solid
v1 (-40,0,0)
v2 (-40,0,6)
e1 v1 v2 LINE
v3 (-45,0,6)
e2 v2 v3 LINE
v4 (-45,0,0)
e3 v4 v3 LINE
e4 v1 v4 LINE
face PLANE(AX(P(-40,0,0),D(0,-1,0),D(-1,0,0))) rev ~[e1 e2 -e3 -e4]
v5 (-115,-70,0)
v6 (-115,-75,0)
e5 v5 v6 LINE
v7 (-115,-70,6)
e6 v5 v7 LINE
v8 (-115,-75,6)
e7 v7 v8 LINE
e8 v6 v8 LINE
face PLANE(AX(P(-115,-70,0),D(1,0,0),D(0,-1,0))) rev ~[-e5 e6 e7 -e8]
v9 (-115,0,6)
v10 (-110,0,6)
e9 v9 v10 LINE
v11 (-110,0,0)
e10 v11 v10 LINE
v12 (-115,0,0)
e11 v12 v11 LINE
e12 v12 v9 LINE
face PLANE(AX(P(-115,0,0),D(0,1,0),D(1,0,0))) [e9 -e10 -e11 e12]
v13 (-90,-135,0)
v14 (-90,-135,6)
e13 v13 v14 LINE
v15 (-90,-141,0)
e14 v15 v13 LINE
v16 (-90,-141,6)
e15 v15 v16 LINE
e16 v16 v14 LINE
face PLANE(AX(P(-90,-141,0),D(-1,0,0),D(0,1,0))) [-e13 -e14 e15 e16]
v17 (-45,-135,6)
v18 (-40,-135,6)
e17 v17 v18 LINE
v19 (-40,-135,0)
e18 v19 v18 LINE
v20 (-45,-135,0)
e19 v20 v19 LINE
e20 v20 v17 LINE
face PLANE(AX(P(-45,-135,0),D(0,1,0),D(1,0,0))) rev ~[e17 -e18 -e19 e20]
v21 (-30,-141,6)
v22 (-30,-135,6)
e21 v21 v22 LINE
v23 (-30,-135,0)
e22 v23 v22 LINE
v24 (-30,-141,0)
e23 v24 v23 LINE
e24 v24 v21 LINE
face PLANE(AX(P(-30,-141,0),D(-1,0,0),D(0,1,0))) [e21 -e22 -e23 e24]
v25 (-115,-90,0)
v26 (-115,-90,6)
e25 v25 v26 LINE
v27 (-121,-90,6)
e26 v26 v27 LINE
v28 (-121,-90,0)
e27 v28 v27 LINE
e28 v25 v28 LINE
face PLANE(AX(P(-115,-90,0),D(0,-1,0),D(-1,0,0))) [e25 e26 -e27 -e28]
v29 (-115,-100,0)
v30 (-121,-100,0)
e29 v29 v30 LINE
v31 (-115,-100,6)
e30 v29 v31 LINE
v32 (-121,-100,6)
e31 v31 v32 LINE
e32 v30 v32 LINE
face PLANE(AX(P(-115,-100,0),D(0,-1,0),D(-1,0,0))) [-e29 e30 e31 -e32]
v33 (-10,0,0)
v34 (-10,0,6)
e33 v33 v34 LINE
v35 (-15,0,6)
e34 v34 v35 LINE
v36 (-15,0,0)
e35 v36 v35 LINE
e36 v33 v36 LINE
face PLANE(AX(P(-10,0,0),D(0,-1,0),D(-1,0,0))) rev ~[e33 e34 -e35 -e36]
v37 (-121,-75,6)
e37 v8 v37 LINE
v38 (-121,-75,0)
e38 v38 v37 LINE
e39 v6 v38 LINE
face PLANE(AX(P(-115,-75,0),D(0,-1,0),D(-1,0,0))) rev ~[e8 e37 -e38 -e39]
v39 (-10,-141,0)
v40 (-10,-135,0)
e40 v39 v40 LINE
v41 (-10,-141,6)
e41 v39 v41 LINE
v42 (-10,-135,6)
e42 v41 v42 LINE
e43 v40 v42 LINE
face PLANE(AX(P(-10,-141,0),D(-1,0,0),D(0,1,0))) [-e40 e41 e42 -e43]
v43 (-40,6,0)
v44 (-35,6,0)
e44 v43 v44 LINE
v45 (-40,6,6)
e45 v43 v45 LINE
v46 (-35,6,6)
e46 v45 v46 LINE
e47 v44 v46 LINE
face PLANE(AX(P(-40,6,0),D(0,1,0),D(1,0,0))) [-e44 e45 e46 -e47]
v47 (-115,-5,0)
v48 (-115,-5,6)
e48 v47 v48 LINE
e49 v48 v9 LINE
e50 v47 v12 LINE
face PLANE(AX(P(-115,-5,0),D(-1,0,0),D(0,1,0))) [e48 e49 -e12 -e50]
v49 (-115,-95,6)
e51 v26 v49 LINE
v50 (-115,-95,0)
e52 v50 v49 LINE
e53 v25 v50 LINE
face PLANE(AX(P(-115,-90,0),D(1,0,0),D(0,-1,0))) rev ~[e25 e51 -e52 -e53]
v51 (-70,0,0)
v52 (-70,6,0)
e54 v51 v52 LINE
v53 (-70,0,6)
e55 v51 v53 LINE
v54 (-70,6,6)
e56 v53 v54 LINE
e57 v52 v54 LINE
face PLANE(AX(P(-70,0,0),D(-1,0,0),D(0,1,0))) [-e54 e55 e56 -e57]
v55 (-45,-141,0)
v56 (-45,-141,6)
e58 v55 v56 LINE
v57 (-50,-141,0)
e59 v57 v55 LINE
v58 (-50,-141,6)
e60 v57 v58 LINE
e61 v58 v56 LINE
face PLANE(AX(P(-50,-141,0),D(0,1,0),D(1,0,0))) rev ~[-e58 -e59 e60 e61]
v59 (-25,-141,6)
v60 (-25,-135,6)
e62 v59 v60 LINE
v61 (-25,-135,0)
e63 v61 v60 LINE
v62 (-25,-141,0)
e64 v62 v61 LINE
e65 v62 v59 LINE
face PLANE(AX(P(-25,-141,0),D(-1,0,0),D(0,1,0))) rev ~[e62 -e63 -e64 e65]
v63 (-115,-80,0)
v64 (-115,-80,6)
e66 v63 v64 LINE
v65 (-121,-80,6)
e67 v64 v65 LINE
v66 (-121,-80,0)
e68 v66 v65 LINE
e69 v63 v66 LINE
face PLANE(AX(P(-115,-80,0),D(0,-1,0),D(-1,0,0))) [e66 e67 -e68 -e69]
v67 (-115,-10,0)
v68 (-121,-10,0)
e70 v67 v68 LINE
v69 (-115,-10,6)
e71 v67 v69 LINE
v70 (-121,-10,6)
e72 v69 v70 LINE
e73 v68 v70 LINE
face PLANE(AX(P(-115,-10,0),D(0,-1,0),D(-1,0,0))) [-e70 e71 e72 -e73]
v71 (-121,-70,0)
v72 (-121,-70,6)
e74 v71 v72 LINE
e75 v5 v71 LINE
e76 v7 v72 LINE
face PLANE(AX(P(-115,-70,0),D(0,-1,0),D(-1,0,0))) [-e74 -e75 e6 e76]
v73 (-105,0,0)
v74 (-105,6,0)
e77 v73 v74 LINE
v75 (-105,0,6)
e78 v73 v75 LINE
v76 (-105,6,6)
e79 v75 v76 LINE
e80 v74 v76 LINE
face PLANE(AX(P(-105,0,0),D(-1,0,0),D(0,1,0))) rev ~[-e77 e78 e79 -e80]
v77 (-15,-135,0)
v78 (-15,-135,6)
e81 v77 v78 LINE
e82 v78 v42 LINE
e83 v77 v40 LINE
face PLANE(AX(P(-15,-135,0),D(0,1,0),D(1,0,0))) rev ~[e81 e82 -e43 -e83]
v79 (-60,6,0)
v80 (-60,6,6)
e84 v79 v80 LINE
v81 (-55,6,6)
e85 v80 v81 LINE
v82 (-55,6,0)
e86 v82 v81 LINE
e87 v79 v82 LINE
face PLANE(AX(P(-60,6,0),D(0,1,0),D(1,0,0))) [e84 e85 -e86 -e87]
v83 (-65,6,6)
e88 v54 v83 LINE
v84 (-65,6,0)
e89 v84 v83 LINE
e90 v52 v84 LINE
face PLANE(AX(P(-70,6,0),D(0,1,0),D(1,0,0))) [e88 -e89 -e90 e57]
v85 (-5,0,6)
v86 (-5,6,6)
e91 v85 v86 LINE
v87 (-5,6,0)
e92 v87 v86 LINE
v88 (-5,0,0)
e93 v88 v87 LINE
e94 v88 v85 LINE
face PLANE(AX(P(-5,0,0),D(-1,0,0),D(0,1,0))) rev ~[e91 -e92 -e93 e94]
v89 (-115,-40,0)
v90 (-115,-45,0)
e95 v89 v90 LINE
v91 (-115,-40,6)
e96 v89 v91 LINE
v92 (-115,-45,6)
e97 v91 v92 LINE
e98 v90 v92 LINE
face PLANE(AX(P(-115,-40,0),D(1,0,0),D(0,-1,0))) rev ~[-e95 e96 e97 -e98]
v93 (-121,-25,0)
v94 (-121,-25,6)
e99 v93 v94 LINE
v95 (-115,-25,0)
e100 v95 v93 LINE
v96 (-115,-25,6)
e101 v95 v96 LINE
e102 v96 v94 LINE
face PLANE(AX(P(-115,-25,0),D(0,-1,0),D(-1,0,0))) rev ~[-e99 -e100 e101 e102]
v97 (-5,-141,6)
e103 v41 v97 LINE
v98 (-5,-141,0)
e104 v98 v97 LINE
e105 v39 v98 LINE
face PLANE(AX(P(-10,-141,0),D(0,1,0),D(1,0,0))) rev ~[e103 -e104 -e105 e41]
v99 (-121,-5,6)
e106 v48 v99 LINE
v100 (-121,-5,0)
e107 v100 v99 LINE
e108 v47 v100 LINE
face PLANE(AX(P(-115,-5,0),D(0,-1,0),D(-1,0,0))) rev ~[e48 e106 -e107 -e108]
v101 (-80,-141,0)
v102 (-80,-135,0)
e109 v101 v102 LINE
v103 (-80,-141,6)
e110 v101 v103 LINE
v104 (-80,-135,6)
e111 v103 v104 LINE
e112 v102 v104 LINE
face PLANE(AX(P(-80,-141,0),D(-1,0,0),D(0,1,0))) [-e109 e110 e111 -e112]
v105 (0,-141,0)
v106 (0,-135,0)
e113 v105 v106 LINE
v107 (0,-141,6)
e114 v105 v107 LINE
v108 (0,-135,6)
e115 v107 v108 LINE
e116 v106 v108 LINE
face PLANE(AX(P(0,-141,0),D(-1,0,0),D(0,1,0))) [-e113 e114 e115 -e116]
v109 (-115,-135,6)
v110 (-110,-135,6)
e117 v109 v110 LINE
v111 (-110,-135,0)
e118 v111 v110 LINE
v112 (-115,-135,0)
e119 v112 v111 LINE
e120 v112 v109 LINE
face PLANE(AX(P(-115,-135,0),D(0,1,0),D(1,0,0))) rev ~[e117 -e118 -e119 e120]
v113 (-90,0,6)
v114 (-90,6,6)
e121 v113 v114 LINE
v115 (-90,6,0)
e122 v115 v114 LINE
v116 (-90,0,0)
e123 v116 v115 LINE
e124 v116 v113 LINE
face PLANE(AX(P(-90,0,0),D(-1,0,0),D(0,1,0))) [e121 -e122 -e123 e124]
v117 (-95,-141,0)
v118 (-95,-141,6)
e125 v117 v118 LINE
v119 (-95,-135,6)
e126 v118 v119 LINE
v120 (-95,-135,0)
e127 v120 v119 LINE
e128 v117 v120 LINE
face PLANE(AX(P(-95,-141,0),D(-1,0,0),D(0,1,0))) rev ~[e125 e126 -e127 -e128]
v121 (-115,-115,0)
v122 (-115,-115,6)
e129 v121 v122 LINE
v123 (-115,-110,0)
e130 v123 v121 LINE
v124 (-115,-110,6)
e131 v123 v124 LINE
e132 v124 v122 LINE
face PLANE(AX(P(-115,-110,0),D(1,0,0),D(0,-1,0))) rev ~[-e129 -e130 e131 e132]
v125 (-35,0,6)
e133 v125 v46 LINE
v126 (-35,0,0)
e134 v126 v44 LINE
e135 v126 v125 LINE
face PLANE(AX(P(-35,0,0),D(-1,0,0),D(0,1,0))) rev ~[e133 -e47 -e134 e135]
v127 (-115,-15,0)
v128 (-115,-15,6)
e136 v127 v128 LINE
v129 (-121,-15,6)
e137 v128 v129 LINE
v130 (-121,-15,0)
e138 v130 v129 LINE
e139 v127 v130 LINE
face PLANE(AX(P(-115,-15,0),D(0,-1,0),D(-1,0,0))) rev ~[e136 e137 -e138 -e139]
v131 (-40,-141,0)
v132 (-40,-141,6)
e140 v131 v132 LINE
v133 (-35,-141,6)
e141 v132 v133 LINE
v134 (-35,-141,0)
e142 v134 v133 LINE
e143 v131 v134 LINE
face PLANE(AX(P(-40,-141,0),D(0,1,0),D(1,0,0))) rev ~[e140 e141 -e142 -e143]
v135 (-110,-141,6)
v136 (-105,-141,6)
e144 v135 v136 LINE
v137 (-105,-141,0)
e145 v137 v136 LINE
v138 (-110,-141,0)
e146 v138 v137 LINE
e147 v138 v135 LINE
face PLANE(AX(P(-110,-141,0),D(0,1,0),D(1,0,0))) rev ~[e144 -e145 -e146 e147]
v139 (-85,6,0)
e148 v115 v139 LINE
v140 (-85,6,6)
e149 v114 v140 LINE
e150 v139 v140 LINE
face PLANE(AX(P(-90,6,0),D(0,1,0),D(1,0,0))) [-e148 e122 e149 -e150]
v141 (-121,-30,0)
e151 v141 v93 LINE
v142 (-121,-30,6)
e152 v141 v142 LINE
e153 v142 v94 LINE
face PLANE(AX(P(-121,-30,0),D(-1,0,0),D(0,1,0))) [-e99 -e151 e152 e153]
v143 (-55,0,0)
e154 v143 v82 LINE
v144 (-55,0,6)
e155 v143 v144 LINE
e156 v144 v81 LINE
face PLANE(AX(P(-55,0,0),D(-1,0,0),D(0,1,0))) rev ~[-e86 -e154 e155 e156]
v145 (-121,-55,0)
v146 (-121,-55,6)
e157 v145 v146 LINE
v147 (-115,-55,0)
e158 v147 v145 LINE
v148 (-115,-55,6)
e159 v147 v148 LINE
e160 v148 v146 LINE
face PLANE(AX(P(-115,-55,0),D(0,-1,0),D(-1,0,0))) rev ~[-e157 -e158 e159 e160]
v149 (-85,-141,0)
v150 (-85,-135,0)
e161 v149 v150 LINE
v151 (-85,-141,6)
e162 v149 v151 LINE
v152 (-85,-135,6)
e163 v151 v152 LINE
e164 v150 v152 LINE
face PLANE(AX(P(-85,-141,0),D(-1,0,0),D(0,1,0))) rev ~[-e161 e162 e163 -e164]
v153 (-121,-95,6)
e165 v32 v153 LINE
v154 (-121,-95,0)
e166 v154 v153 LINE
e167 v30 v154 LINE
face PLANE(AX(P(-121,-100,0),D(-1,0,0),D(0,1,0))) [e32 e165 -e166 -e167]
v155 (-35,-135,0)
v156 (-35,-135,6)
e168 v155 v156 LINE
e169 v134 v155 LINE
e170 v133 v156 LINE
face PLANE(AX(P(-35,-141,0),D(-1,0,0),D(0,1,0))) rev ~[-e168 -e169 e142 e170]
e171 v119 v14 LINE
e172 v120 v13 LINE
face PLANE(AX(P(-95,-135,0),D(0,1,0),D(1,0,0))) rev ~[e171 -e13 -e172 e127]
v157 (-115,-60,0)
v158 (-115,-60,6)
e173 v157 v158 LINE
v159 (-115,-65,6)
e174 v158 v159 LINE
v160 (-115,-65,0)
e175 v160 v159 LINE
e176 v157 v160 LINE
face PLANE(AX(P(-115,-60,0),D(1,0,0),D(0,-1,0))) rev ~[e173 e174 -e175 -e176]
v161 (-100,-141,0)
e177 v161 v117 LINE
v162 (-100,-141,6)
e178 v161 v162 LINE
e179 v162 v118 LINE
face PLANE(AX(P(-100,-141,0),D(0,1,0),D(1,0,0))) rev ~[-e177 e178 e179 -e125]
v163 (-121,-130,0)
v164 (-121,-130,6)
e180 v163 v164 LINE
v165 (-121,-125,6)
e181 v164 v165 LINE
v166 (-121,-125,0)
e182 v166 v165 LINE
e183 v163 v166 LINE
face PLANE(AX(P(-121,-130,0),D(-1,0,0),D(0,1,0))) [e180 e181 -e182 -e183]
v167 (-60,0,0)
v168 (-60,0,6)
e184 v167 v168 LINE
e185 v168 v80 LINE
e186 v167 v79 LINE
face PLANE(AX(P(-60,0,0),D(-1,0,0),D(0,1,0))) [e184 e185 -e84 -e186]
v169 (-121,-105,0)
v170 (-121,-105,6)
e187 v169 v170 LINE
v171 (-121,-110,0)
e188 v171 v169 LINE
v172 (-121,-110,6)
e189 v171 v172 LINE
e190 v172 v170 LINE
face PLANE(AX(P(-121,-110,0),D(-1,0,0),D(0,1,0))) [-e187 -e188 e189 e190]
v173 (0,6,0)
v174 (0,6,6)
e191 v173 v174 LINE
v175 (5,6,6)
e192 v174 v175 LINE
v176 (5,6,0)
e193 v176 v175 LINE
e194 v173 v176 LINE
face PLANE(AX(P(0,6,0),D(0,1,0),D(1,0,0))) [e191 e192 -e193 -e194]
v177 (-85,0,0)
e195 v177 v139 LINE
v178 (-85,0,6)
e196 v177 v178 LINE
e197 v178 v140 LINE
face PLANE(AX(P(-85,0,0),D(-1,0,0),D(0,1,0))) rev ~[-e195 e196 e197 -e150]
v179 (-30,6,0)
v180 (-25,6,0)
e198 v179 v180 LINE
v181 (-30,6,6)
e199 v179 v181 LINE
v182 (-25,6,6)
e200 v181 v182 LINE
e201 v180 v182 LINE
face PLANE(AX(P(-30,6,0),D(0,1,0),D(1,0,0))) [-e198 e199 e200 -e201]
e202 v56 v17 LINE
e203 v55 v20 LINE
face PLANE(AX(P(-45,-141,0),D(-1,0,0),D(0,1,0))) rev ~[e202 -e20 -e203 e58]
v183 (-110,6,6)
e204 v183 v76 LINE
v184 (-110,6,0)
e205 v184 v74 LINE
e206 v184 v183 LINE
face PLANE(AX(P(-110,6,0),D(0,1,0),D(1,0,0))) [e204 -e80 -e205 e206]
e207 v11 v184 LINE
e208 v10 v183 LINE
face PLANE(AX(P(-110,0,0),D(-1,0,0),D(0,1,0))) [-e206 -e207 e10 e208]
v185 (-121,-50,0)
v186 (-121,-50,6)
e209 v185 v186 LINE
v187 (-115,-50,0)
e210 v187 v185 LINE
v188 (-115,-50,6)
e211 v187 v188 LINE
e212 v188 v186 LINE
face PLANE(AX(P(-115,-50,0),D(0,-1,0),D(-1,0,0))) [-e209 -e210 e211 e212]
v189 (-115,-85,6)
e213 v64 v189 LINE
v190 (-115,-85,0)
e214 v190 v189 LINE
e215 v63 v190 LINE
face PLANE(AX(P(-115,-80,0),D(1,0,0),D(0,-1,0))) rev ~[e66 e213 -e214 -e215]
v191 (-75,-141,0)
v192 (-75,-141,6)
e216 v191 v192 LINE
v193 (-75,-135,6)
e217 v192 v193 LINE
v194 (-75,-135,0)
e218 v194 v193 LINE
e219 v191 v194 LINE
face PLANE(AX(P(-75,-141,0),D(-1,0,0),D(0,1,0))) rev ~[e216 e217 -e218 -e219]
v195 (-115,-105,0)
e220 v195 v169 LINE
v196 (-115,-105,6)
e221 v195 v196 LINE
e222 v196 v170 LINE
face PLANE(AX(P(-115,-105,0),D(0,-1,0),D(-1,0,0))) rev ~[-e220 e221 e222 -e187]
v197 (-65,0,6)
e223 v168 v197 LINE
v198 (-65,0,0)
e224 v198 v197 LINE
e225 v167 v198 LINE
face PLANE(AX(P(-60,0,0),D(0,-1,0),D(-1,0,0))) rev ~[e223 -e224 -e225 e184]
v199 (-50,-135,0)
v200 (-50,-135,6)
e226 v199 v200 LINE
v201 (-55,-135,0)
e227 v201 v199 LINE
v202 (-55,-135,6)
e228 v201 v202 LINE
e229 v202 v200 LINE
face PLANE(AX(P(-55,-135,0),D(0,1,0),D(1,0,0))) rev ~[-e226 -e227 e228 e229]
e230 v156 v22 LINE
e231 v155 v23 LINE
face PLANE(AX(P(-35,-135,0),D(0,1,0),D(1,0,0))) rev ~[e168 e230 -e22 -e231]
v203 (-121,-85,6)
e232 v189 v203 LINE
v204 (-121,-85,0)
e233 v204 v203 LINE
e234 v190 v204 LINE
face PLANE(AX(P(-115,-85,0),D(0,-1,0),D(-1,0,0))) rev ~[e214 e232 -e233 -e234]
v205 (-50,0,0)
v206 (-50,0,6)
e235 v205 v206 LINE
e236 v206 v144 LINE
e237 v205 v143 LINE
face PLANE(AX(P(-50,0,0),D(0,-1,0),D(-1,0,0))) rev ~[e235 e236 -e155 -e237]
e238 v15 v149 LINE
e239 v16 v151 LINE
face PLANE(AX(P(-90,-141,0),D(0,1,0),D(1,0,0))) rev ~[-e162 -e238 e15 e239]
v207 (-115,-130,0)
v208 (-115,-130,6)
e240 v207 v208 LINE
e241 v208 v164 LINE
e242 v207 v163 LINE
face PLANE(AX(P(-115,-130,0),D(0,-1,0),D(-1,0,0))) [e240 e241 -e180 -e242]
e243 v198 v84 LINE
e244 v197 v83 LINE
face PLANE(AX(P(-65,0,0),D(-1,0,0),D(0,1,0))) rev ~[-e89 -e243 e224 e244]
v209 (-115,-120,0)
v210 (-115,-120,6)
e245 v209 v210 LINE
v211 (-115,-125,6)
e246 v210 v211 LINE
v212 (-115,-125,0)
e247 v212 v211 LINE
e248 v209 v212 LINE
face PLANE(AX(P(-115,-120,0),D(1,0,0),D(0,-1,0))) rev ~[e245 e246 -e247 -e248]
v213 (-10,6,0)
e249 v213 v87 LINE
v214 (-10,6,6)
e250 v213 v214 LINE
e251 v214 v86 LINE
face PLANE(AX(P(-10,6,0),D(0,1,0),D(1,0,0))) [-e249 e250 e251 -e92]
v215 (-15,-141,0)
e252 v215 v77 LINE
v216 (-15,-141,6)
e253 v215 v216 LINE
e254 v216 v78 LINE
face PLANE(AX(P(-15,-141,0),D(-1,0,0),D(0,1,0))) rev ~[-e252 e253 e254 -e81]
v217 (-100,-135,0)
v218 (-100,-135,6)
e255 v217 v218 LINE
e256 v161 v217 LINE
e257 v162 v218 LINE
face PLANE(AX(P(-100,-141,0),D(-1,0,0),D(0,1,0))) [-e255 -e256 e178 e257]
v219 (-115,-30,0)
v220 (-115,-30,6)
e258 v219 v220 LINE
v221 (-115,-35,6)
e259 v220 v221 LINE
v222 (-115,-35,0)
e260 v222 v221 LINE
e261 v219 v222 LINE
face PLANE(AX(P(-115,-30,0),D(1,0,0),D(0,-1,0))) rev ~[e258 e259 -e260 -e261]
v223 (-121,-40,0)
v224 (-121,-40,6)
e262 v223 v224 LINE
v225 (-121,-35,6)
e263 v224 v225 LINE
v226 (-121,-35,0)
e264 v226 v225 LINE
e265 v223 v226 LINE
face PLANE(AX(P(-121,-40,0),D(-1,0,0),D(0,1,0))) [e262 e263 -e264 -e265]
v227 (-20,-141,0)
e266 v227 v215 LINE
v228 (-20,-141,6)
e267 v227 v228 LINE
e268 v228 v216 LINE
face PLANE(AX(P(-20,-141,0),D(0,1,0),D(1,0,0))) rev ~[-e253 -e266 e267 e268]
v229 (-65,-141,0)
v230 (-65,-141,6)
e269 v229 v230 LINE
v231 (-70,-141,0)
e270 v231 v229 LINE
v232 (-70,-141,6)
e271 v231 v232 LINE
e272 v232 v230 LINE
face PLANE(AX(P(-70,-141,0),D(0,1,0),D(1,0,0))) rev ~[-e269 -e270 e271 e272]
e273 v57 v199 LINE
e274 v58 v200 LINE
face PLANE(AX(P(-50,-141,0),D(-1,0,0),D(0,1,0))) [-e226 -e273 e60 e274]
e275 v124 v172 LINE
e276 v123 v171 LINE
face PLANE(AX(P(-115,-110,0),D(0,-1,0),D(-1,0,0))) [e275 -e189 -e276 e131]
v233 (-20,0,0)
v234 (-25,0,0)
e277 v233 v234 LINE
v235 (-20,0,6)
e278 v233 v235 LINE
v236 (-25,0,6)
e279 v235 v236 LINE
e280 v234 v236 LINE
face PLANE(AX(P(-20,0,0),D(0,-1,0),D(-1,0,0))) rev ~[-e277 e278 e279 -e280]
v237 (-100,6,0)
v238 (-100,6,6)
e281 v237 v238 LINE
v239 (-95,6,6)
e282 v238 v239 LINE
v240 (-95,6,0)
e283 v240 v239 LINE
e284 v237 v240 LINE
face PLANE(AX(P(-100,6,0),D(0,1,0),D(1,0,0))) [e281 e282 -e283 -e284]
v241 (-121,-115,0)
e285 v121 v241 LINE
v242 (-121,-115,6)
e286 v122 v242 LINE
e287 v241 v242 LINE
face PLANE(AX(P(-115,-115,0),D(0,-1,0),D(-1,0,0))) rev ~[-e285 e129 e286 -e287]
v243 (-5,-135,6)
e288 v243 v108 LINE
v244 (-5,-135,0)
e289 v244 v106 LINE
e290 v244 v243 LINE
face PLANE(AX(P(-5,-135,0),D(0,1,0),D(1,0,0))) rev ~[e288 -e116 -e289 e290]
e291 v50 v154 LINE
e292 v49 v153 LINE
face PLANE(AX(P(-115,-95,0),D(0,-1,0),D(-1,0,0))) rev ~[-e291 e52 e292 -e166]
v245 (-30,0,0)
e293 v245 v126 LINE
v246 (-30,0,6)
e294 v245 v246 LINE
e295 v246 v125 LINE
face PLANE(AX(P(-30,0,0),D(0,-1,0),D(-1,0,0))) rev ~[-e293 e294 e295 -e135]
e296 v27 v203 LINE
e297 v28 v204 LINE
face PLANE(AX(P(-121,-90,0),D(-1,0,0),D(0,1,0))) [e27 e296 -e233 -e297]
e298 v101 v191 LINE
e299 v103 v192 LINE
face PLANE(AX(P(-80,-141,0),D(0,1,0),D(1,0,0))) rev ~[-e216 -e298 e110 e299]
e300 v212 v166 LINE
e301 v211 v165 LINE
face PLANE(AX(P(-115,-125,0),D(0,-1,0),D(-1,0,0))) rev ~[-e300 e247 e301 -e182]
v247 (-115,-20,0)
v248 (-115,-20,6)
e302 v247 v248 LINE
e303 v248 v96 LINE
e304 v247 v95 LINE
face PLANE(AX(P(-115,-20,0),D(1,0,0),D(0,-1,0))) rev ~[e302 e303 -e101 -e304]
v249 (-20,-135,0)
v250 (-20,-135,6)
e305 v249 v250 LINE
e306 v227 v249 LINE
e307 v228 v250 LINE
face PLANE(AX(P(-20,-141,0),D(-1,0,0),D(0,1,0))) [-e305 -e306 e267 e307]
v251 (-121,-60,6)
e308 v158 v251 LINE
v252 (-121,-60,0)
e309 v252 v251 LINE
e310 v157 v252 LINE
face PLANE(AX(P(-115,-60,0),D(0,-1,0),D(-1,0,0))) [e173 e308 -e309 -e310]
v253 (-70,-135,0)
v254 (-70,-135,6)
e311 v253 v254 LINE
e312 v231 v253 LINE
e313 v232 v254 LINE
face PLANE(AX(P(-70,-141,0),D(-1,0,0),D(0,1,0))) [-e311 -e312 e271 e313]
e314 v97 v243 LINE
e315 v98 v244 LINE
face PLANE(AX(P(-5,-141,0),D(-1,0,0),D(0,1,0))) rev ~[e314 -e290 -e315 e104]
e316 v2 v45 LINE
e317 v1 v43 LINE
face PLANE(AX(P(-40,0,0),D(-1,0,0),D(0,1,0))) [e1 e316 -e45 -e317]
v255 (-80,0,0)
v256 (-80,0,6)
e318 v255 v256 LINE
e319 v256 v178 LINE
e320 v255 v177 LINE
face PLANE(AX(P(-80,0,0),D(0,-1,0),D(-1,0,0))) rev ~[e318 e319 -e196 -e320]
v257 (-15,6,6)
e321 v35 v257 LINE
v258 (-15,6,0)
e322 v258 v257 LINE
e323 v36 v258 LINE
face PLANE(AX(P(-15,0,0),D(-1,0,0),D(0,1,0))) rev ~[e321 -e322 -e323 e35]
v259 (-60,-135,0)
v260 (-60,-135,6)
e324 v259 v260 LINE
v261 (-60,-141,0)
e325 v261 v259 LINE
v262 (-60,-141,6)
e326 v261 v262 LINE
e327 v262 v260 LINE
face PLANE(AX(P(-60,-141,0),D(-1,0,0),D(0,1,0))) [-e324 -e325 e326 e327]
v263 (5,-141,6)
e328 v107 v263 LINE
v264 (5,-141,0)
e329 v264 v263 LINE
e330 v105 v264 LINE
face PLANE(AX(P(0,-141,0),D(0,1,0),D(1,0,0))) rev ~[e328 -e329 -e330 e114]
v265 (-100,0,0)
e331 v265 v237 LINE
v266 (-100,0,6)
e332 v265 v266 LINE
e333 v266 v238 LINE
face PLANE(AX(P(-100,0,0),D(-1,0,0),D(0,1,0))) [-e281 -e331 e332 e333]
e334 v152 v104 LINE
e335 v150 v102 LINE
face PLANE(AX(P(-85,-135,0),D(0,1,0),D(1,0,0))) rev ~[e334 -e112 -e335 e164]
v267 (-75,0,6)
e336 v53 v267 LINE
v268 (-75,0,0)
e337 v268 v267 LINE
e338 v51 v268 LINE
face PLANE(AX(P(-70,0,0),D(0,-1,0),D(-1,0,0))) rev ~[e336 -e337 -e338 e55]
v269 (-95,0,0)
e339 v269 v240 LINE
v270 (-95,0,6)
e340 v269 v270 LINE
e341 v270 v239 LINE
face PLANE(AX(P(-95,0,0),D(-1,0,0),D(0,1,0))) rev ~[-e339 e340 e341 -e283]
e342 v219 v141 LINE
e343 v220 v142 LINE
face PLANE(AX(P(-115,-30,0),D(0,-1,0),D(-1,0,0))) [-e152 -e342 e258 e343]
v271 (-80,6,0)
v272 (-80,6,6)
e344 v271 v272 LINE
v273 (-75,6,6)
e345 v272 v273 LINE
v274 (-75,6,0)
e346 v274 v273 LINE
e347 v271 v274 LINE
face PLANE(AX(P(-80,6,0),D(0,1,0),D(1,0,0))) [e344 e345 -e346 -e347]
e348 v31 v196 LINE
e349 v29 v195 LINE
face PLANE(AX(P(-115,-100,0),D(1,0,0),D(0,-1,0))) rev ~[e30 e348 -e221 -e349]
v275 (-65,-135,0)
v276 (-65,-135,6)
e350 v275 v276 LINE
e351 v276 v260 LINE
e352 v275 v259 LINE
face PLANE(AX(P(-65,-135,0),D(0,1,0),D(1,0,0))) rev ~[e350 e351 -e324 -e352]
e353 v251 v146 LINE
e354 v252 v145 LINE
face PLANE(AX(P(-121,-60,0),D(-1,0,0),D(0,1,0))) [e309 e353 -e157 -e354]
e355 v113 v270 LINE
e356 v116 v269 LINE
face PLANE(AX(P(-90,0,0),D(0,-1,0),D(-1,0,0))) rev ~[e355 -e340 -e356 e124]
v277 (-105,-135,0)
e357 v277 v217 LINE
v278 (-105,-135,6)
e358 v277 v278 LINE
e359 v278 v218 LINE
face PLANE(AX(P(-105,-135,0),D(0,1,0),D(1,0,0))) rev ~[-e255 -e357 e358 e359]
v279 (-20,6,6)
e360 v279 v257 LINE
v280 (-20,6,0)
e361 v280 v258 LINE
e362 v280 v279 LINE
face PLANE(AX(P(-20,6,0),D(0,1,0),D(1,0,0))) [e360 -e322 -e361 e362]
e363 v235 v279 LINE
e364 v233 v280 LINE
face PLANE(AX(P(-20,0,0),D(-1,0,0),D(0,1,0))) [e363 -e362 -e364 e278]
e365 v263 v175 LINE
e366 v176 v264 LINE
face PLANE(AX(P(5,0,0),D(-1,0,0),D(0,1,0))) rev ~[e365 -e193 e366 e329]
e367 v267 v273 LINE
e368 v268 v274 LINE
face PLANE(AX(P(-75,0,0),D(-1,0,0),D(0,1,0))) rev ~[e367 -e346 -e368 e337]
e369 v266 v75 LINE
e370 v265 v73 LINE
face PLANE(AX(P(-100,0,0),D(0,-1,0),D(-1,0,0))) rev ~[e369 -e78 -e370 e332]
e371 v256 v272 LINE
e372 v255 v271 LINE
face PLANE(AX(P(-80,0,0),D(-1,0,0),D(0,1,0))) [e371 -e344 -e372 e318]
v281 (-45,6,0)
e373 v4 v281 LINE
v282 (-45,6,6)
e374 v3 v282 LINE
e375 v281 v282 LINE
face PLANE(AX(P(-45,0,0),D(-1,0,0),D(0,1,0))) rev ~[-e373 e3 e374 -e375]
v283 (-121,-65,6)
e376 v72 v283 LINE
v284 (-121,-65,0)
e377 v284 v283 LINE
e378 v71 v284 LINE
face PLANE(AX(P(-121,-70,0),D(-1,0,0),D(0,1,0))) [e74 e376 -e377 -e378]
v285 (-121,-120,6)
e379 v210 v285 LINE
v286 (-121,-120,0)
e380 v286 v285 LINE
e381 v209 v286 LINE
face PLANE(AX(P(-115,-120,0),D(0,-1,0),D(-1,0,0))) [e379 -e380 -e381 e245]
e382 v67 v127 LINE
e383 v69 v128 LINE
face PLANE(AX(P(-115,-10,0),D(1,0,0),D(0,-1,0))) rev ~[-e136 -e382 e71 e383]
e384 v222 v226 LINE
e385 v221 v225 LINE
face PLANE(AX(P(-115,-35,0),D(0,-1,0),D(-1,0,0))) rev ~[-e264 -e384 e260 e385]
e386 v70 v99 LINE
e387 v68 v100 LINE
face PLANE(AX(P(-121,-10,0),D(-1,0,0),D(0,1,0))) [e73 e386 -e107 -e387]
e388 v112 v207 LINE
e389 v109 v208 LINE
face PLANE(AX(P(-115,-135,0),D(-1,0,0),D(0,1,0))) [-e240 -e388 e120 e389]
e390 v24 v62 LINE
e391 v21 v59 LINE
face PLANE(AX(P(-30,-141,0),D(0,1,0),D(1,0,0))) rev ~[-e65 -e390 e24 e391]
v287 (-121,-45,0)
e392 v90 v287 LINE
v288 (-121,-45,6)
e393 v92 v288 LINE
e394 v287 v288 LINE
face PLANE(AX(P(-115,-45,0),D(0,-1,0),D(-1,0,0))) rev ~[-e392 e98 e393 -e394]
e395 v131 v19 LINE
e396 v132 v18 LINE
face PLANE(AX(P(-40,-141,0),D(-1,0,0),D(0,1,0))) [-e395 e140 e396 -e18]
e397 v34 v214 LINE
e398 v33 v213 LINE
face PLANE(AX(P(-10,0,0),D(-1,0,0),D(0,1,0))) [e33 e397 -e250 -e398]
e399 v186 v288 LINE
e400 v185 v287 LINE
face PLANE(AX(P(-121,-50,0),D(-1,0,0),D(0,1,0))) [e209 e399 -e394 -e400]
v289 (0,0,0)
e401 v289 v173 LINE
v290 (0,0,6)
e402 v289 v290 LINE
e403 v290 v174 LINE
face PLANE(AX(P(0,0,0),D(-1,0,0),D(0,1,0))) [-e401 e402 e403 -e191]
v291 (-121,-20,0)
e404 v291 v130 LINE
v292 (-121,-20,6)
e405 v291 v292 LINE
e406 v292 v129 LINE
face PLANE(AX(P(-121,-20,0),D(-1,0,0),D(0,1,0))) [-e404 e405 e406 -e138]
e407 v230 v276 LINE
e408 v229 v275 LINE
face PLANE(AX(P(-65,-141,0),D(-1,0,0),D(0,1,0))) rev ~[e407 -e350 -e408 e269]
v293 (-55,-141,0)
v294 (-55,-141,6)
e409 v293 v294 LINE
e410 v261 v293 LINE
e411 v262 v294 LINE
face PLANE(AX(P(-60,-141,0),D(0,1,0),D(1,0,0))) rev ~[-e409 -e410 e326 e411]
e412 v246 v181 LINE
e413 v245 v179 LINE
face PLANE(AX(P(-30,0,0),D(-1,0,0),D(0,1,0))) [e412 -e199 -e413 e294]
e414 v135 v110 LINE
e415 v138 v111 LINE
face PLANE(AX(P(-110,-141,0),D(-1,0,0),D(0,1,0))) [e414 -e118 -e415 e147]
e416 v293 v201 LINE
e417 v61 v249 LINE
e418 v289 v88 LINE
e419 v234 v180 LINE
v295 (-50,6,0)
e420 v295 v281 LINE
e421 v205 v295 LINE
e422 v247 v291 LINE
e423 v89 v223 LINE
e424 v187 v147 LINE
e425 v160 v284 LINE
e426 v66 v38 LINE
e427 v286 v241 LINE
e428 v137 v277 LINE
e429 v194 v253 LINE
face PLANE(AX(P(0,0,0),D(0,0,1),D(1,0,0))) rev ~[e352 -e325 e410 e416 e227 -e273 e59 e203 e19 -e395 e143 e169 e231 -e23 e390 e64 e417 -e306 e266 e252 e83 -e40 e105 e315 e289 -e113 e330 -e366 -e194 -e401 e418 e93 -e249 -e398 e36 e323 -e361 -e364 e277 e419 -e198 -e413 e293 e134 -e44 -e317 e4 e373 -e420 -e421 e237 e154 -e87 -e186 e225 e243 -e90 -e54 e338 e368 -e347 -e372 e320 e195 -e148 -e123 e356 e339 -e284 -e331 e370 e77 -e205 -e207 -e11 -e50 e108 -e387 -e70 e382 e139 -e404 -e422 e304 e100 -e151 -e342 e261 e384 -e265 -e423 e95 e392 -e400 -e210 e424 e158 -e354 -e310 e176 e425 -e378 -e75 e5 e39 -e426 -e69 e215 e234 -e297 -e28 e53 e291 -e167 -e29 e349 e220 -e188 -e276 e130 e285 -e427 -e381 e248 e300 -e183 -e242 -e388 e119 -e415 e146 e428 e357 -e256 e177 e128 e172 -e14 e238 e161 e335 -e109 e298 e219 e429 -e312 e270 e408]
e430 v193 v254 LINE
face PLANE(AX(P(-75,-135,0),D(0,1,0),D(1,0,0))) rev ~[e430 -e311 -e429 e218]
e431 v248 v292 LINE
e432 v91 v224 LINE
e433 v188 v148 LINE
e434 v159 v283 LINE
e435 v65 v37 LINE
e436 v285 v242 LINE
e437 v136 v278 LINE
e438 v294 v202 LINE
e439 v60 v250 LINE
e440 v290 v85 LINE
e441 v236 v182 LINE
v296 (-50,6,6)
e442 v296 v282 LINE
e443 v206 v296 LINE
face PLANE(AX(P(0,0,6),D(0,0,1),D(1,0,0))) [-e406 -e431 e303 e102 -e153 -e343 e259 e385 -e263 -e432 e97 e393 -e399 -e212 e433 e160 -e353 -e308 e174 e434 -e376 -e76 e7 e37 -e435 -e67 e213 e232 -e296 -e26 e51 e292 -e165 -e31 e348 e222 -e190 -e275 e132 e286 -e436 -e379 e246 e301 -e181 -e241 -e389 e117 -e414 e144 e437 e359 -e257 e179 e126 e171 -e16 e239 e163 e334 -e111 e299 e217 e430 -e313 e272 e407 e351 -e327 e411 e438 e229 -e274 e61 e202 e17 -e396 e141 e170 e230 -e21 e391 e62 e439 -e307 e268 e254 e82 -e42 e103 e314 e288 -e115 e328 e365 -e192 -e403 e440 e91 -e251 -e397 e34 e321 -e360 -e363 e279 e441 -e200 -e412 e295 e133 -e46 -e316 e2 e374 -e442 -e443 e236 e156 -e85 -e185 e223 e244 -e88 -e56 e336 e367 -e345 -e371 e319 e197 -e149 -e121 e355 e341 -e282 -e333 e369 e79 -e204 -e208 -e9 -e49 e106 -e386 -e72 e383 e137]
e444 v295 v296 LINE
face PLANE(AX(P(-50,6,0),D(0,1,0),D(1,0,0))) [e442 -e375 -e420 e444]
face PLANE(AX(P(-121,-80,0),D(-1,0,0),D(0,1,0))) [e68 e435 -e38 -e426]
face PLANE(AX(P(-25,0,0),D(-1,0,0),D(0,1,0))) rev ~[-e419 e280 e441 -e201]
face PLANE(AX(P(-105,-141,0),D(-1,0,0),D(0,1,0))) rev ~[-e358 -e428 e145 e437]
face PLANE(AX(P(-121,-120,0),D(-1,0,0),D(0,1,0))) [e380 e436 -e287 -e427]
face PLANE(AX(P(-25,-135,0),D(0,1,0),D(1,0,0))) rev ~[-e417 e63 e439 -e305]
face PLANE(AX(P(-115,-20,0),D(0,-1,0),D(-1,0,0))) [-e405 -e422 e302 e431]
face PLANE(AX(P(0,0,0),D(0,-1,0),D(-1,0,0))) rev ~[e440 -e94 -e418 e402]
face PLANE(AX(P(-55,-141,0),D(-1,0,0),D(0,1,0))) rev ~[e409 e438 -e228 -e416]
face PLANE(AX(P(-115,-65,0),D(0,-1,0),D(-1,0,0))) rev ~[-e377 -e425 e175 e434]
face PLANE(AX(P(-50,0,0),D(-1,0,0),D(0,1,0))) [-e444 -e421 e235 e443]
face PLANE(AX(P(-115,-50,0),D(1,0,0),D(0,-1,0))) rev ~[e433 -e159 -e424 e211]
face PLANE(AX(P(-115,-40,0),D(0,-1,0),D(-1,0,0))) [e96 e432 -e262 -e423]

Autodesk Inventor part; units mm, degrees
ref_plane "YZ Plane" through (0, 0, 0) normal (1, 0, 0) x (0, 1, 0)
ref_plane "XZ Plane" through (0, 0, 0) normal (0, 1, 0) x (-1, 0, 0)
ref_plane "XY Plane" through (0, 0, 0) normal (0, 0, 1) x (1, 0, 0)
sketch "Эскиз1" plane through (0, 0, 0) normal (0, 0, 1) x (1, 0, 0)
  line L0 (0, 0) -> (5, 0) projected
  line L1 (5, 0) -> (5, 6) projected
  line L2 (0, 6) -> (5, 6) projected
  line L3 (0, 0) -> (0, 6) projected
  line L4 (-10, 0) -> (-5, 0) projected
  line L5 (-5, 0) -> (-5, 6) projected
  line L6 (-10, 6) -> (-5, 6) projected
  line L7 (-10, 0) -> (-10, 6) projected
  line L8 (-20, 0) -> (-15, 0) projected
  line L9 (-15, 0) -> (-15, 6) projected
  line L10 (-20, 6) -> (-15, 6) projected
  line L11 (-20, 0) -> (-20, 6) projected
  line L12 (-30, 0) -> (-25, 0) projected
  line L13 (-25, 0) -> (-25, 6) projected
  line L14 (-30, 6) -> (-25, 6) projected
  line L15 (-30, 0) -> (-30, 6) projected
  line L16 (-40, 0) -> (-35, 0) projected
  line L17 (-35, 0) -> (-35, 6) projected
  line L18 (-40, 6) -> (-35, 6) projected
  line L19 (-40, 0) -> (-40, 6) projected
  line L20 (-50, 0) -> (-45, 0) projected
  line L21 (-45, 0) -> (-45, 6) projected
  line L22 (-50, 6) -> (-45, 6) projected
  line L23 (-50, 0) -> (-50, 6) projected
  line L24 (-60, 0) -> (-55, 0) projected
  line L25 (-55, 0) -> (-55, 6) projected
  line L26 (-60, 6) -> (-55, 6) projected
  line L27 (-60, 0) -> (-60, 6) projected
  line L28 (-70, 0) -> (-65, 0) projected
  line L29 (-65, 0) -> (-65, 6) projected
  line L30 (-70, 6) -> (-65, 6) projected
  line L31 (-70, 0) -> (-70, 6) projected
  line L32 (-80, 0) -> (-75, 0) projected
  line L33 (-80, 0) -> (-75, 0) projected
  line L34 (-75, 0) -> (-75, 6) projected
  line L35 (-80, 6) -> (-75, 6) projected
  line L36 (-80, 0) -> (-80, 6) projected
  line L37 (-90, 0) -> (-85, 0) projected
  line L38 (-85, 0) -> (-85, 6) projected
  line L39 (-90, 6) -> (-85, 6) projected
  line L40 (-90, 0) -> (-90, 6) projected
  line L41 (-100, 0) -> (-100, 6) projected
  line L42 (-110, 0) -> (-105, 0) projected
  line L43 (-105, 0) -> (-105, 6) projected
  line L44 (-110, 6) -> (-105, 6) projected
  line L45 (-110, 0) -> (-110, 6) projected
  line L46 (-115, 0) -> (-110, 0) projected
  line L47 (-115, -5) -> (-115, 0) projected
  line L48 (-110, -141) -> (-105, -141) projected
  line L49 (-105, -141) -> (-105, -135) projected
  line L50 (-110, -135) -> (-105, -135) projected
  line L51 (-110, -141) -> (-110, -135) projected
  line L52 (-100, -141) -> (-95, -141) projected
  line L53 (-95, -141) -> (-95, -135) projected
  line L54 (-100, -135) -> (-95, -135) projected
  line L55 (-100, -141) -> (-100, -135) projected
  line L56 (-90, -141) -> (-85, -141) projected
  line L57 (-85, -141) -> (-85, -135) projected
  line L58 (-90, -135) -> (-85, -135) projected
  line L59 (-90, -141) -> (-90, -135) projected
  line L60 (-80, -141) -> (-75, -141) projected
  line L61 (-75, -141) -> (-75, -135) projected
  line L62 (-80, -135) -> (-75, -135) projected
  line L63 (-80, -141) -> (-80, -135) projected
  line L64 (-70, -141) -> (-65, -141) projected
  line L65 (-65, -141) -> (-65, -135) projected
  line L66 (-70, -135) -> (-65, -135) projected
  line L67 (-70, -141) -> (-70, -135) projected
  line L68 (-60, -141) -> (-55, -141) projected
  line L69 (-55, -141) -> (-55, -135) projected
  line L70 (-60, -135) -> (-55, -135) projected
  line L71 (-60, -141) -> (-60, -135) projected
  line L72 (-50, -141) -> (-45, -141) projected
  line L73 (-45, -141) -> (-45, -135) projected
  line L74 (-50, -135) -> (-45, -135) projected
  line L75 (-50, -141) -> (-50, -135) projected
  line L76 (-40, -141) -> (-35, -141) projected
  line L77 (-35, -141) -> (-35, -135) projected
  line L78 (-40, -135) -> (-35, -135) projected
  line L79 (-40, -141) -> (-40, -135) projected
  line L80 (-30, -141) -> (-25, -141) projected
  line L81 (-25, -141) -> (-25, -135) projected
  line L82 (-30, -135) -> (-25, -135) projected
  line L83 (-30, -141) -> (-30, -135) projected
  line L84 (-20, -141) -> (-15, -141) projected
  line L85 (-15, -141) -> (-15, -135) projected
  line L86 (-20, -135) -> (-15, -135) projected
  line L87 (-20, -141) -> (-20, -135) projected
  line L88 (-10, -141) -> (-5, -141) projected
  line L89 (-5, -141) -> (-5, -135) projected
  line L90 (-10, -135) -> (-5, -135) projected
  line L91 (-10, -141) -> (-10, -135) projected
  line L92 (0, -141) -> (5, -141) projected
  line L93 (5, -141) -> (5, -135) projected
  line L94 (0, -135) -> (5, -135) projected
  line L95 (0, -141) -> (0, -135) projected
  line L96 (-115, -130) -> (-115, -125) projected
  line L97 (-115, -125) -> (-121, -125) projected
  line L98 (-121, -130) -> (-121, -125) projected
  line L99 (-115, -130) -> (-121, -130) projected
  line L100 (-115, -135) -> (-115, -130) projected
  line L101 (-115, -135) -> (-110, -135) projected
  line L102 (-115, -120) -> (-115, -115) projected
  line L103 (-115, -115) -> (-121, -115) projected
  line L104 (-121, -120) -> (-121, -115) projected
  line L105 (-115, -120) -> (-121, -120) projected
  line L106 (-115, -110) -> (-115, -105) projected
  line L107 (-115, -105) -> (-121, -105) projected
  line L108 (-121, -110) -> (-121, -105) projected
  line L109 (-115, -110) -> (-121, -110) projected
  line L110 (-115, -100) -> (-115, -95) projected
  line L111 (-115, -95) -> (-121, -95) projected
  line L112 (-121, -100) -> (-121, -95) projected
  line L113 (-115, -100) -> (-121, -100) projected
  line L114 (-115, -90) -> (-115, -85) projected
  line L115 (-115, -85) -> (-121, -85) projected
  line L116 (-121, -90) -> (-121, -85) projected
  line L117 (-115, -90) -> (-121, -90) projected
  line L118 (-115, -80) -> (-115, -75) projected
  line L119 (-115, -75) -> (-121, -75) projected
  line L120 (-121, -80) -> (-121, -75) projected
  line L121 (-115, -80) -> (-121, -80) projected
  line L122 (-115, -70) -> (-115, -65) projected
  line L123 (-115, -65) -> (-121, -65) projected
  line L124 (-121, -70) -> (-121, -65) projected
  line L125 (-115, -70) -> (-121, -70) projected
  line L126 (-115, -60) -> (-115, -55) projected
  line L127 (-115, -55) -> (-121, -55) projected
  line L128 (-121, -60) -> (-121, -55) projected
  line L129 (-115, -60) -> (-121, -60) projected
  line L130 (-115, -50) -> (-115, -45) projected
  line L131 (-115, -45) -> (-121, -45) projected
  line L132 (-121, -50) -> (-121, -45) projected
  line L133 (-115, -50) -> (-121, -50) projected
  line L134 (-115, -40) -> (-115, -35) projected
  line L135 (-115, -35) -> (-121, -35) projected
  line L136 (-121, -40) -> (-121, -35) projected
  line L137 (-115, -40) -> (-121, -40) projected
  line L138 (-115, -30) -> (-115, -25) projected
  line L139 (-115, -25) -> (-121, -25) projected
  line L140 (-121, -30) -> (-121, -25) projected
  line L141 (-115, -30) -> (-121, -30) projected
  line L142 (-115, -20) -> (-115, -15) projected
  line L143 (-115, -15) -> (-121, -15) projected
  line L144 (-121, -20) -> (-121, -15) projected
  line L145 (-115, -20) -> (-121, -20) projected
  line L146 (-115, -10) -> (-115, -5) projected
  line L147 (-115, -5) -> (-121, -5) projected
  line L148 (-121, -10) -> (-121, -5) projected
  line L149 (-115, -10) -> (-121, -10) projected
  line L150 (5, 0) -> (-115, 0)
  line L151 (-115, 0) -> (-115, -135)
  line L152 (-115, -135) -> (5, -135)
  line L153 (5, -135) -> (5, 0)
  line L154 (-100, 0) -> (-95, 0) projected
  line L155 (-95, 0) -> (-95, 6) projected
  line L156 (-100, 6) -> (-95, 6) projected
  line L157 (-100, 0) -> (-100, 6) projected
extrude "Выдавливание1" add sketch "Эскиз1" along normal blind 6
properties part number "unlong2"
